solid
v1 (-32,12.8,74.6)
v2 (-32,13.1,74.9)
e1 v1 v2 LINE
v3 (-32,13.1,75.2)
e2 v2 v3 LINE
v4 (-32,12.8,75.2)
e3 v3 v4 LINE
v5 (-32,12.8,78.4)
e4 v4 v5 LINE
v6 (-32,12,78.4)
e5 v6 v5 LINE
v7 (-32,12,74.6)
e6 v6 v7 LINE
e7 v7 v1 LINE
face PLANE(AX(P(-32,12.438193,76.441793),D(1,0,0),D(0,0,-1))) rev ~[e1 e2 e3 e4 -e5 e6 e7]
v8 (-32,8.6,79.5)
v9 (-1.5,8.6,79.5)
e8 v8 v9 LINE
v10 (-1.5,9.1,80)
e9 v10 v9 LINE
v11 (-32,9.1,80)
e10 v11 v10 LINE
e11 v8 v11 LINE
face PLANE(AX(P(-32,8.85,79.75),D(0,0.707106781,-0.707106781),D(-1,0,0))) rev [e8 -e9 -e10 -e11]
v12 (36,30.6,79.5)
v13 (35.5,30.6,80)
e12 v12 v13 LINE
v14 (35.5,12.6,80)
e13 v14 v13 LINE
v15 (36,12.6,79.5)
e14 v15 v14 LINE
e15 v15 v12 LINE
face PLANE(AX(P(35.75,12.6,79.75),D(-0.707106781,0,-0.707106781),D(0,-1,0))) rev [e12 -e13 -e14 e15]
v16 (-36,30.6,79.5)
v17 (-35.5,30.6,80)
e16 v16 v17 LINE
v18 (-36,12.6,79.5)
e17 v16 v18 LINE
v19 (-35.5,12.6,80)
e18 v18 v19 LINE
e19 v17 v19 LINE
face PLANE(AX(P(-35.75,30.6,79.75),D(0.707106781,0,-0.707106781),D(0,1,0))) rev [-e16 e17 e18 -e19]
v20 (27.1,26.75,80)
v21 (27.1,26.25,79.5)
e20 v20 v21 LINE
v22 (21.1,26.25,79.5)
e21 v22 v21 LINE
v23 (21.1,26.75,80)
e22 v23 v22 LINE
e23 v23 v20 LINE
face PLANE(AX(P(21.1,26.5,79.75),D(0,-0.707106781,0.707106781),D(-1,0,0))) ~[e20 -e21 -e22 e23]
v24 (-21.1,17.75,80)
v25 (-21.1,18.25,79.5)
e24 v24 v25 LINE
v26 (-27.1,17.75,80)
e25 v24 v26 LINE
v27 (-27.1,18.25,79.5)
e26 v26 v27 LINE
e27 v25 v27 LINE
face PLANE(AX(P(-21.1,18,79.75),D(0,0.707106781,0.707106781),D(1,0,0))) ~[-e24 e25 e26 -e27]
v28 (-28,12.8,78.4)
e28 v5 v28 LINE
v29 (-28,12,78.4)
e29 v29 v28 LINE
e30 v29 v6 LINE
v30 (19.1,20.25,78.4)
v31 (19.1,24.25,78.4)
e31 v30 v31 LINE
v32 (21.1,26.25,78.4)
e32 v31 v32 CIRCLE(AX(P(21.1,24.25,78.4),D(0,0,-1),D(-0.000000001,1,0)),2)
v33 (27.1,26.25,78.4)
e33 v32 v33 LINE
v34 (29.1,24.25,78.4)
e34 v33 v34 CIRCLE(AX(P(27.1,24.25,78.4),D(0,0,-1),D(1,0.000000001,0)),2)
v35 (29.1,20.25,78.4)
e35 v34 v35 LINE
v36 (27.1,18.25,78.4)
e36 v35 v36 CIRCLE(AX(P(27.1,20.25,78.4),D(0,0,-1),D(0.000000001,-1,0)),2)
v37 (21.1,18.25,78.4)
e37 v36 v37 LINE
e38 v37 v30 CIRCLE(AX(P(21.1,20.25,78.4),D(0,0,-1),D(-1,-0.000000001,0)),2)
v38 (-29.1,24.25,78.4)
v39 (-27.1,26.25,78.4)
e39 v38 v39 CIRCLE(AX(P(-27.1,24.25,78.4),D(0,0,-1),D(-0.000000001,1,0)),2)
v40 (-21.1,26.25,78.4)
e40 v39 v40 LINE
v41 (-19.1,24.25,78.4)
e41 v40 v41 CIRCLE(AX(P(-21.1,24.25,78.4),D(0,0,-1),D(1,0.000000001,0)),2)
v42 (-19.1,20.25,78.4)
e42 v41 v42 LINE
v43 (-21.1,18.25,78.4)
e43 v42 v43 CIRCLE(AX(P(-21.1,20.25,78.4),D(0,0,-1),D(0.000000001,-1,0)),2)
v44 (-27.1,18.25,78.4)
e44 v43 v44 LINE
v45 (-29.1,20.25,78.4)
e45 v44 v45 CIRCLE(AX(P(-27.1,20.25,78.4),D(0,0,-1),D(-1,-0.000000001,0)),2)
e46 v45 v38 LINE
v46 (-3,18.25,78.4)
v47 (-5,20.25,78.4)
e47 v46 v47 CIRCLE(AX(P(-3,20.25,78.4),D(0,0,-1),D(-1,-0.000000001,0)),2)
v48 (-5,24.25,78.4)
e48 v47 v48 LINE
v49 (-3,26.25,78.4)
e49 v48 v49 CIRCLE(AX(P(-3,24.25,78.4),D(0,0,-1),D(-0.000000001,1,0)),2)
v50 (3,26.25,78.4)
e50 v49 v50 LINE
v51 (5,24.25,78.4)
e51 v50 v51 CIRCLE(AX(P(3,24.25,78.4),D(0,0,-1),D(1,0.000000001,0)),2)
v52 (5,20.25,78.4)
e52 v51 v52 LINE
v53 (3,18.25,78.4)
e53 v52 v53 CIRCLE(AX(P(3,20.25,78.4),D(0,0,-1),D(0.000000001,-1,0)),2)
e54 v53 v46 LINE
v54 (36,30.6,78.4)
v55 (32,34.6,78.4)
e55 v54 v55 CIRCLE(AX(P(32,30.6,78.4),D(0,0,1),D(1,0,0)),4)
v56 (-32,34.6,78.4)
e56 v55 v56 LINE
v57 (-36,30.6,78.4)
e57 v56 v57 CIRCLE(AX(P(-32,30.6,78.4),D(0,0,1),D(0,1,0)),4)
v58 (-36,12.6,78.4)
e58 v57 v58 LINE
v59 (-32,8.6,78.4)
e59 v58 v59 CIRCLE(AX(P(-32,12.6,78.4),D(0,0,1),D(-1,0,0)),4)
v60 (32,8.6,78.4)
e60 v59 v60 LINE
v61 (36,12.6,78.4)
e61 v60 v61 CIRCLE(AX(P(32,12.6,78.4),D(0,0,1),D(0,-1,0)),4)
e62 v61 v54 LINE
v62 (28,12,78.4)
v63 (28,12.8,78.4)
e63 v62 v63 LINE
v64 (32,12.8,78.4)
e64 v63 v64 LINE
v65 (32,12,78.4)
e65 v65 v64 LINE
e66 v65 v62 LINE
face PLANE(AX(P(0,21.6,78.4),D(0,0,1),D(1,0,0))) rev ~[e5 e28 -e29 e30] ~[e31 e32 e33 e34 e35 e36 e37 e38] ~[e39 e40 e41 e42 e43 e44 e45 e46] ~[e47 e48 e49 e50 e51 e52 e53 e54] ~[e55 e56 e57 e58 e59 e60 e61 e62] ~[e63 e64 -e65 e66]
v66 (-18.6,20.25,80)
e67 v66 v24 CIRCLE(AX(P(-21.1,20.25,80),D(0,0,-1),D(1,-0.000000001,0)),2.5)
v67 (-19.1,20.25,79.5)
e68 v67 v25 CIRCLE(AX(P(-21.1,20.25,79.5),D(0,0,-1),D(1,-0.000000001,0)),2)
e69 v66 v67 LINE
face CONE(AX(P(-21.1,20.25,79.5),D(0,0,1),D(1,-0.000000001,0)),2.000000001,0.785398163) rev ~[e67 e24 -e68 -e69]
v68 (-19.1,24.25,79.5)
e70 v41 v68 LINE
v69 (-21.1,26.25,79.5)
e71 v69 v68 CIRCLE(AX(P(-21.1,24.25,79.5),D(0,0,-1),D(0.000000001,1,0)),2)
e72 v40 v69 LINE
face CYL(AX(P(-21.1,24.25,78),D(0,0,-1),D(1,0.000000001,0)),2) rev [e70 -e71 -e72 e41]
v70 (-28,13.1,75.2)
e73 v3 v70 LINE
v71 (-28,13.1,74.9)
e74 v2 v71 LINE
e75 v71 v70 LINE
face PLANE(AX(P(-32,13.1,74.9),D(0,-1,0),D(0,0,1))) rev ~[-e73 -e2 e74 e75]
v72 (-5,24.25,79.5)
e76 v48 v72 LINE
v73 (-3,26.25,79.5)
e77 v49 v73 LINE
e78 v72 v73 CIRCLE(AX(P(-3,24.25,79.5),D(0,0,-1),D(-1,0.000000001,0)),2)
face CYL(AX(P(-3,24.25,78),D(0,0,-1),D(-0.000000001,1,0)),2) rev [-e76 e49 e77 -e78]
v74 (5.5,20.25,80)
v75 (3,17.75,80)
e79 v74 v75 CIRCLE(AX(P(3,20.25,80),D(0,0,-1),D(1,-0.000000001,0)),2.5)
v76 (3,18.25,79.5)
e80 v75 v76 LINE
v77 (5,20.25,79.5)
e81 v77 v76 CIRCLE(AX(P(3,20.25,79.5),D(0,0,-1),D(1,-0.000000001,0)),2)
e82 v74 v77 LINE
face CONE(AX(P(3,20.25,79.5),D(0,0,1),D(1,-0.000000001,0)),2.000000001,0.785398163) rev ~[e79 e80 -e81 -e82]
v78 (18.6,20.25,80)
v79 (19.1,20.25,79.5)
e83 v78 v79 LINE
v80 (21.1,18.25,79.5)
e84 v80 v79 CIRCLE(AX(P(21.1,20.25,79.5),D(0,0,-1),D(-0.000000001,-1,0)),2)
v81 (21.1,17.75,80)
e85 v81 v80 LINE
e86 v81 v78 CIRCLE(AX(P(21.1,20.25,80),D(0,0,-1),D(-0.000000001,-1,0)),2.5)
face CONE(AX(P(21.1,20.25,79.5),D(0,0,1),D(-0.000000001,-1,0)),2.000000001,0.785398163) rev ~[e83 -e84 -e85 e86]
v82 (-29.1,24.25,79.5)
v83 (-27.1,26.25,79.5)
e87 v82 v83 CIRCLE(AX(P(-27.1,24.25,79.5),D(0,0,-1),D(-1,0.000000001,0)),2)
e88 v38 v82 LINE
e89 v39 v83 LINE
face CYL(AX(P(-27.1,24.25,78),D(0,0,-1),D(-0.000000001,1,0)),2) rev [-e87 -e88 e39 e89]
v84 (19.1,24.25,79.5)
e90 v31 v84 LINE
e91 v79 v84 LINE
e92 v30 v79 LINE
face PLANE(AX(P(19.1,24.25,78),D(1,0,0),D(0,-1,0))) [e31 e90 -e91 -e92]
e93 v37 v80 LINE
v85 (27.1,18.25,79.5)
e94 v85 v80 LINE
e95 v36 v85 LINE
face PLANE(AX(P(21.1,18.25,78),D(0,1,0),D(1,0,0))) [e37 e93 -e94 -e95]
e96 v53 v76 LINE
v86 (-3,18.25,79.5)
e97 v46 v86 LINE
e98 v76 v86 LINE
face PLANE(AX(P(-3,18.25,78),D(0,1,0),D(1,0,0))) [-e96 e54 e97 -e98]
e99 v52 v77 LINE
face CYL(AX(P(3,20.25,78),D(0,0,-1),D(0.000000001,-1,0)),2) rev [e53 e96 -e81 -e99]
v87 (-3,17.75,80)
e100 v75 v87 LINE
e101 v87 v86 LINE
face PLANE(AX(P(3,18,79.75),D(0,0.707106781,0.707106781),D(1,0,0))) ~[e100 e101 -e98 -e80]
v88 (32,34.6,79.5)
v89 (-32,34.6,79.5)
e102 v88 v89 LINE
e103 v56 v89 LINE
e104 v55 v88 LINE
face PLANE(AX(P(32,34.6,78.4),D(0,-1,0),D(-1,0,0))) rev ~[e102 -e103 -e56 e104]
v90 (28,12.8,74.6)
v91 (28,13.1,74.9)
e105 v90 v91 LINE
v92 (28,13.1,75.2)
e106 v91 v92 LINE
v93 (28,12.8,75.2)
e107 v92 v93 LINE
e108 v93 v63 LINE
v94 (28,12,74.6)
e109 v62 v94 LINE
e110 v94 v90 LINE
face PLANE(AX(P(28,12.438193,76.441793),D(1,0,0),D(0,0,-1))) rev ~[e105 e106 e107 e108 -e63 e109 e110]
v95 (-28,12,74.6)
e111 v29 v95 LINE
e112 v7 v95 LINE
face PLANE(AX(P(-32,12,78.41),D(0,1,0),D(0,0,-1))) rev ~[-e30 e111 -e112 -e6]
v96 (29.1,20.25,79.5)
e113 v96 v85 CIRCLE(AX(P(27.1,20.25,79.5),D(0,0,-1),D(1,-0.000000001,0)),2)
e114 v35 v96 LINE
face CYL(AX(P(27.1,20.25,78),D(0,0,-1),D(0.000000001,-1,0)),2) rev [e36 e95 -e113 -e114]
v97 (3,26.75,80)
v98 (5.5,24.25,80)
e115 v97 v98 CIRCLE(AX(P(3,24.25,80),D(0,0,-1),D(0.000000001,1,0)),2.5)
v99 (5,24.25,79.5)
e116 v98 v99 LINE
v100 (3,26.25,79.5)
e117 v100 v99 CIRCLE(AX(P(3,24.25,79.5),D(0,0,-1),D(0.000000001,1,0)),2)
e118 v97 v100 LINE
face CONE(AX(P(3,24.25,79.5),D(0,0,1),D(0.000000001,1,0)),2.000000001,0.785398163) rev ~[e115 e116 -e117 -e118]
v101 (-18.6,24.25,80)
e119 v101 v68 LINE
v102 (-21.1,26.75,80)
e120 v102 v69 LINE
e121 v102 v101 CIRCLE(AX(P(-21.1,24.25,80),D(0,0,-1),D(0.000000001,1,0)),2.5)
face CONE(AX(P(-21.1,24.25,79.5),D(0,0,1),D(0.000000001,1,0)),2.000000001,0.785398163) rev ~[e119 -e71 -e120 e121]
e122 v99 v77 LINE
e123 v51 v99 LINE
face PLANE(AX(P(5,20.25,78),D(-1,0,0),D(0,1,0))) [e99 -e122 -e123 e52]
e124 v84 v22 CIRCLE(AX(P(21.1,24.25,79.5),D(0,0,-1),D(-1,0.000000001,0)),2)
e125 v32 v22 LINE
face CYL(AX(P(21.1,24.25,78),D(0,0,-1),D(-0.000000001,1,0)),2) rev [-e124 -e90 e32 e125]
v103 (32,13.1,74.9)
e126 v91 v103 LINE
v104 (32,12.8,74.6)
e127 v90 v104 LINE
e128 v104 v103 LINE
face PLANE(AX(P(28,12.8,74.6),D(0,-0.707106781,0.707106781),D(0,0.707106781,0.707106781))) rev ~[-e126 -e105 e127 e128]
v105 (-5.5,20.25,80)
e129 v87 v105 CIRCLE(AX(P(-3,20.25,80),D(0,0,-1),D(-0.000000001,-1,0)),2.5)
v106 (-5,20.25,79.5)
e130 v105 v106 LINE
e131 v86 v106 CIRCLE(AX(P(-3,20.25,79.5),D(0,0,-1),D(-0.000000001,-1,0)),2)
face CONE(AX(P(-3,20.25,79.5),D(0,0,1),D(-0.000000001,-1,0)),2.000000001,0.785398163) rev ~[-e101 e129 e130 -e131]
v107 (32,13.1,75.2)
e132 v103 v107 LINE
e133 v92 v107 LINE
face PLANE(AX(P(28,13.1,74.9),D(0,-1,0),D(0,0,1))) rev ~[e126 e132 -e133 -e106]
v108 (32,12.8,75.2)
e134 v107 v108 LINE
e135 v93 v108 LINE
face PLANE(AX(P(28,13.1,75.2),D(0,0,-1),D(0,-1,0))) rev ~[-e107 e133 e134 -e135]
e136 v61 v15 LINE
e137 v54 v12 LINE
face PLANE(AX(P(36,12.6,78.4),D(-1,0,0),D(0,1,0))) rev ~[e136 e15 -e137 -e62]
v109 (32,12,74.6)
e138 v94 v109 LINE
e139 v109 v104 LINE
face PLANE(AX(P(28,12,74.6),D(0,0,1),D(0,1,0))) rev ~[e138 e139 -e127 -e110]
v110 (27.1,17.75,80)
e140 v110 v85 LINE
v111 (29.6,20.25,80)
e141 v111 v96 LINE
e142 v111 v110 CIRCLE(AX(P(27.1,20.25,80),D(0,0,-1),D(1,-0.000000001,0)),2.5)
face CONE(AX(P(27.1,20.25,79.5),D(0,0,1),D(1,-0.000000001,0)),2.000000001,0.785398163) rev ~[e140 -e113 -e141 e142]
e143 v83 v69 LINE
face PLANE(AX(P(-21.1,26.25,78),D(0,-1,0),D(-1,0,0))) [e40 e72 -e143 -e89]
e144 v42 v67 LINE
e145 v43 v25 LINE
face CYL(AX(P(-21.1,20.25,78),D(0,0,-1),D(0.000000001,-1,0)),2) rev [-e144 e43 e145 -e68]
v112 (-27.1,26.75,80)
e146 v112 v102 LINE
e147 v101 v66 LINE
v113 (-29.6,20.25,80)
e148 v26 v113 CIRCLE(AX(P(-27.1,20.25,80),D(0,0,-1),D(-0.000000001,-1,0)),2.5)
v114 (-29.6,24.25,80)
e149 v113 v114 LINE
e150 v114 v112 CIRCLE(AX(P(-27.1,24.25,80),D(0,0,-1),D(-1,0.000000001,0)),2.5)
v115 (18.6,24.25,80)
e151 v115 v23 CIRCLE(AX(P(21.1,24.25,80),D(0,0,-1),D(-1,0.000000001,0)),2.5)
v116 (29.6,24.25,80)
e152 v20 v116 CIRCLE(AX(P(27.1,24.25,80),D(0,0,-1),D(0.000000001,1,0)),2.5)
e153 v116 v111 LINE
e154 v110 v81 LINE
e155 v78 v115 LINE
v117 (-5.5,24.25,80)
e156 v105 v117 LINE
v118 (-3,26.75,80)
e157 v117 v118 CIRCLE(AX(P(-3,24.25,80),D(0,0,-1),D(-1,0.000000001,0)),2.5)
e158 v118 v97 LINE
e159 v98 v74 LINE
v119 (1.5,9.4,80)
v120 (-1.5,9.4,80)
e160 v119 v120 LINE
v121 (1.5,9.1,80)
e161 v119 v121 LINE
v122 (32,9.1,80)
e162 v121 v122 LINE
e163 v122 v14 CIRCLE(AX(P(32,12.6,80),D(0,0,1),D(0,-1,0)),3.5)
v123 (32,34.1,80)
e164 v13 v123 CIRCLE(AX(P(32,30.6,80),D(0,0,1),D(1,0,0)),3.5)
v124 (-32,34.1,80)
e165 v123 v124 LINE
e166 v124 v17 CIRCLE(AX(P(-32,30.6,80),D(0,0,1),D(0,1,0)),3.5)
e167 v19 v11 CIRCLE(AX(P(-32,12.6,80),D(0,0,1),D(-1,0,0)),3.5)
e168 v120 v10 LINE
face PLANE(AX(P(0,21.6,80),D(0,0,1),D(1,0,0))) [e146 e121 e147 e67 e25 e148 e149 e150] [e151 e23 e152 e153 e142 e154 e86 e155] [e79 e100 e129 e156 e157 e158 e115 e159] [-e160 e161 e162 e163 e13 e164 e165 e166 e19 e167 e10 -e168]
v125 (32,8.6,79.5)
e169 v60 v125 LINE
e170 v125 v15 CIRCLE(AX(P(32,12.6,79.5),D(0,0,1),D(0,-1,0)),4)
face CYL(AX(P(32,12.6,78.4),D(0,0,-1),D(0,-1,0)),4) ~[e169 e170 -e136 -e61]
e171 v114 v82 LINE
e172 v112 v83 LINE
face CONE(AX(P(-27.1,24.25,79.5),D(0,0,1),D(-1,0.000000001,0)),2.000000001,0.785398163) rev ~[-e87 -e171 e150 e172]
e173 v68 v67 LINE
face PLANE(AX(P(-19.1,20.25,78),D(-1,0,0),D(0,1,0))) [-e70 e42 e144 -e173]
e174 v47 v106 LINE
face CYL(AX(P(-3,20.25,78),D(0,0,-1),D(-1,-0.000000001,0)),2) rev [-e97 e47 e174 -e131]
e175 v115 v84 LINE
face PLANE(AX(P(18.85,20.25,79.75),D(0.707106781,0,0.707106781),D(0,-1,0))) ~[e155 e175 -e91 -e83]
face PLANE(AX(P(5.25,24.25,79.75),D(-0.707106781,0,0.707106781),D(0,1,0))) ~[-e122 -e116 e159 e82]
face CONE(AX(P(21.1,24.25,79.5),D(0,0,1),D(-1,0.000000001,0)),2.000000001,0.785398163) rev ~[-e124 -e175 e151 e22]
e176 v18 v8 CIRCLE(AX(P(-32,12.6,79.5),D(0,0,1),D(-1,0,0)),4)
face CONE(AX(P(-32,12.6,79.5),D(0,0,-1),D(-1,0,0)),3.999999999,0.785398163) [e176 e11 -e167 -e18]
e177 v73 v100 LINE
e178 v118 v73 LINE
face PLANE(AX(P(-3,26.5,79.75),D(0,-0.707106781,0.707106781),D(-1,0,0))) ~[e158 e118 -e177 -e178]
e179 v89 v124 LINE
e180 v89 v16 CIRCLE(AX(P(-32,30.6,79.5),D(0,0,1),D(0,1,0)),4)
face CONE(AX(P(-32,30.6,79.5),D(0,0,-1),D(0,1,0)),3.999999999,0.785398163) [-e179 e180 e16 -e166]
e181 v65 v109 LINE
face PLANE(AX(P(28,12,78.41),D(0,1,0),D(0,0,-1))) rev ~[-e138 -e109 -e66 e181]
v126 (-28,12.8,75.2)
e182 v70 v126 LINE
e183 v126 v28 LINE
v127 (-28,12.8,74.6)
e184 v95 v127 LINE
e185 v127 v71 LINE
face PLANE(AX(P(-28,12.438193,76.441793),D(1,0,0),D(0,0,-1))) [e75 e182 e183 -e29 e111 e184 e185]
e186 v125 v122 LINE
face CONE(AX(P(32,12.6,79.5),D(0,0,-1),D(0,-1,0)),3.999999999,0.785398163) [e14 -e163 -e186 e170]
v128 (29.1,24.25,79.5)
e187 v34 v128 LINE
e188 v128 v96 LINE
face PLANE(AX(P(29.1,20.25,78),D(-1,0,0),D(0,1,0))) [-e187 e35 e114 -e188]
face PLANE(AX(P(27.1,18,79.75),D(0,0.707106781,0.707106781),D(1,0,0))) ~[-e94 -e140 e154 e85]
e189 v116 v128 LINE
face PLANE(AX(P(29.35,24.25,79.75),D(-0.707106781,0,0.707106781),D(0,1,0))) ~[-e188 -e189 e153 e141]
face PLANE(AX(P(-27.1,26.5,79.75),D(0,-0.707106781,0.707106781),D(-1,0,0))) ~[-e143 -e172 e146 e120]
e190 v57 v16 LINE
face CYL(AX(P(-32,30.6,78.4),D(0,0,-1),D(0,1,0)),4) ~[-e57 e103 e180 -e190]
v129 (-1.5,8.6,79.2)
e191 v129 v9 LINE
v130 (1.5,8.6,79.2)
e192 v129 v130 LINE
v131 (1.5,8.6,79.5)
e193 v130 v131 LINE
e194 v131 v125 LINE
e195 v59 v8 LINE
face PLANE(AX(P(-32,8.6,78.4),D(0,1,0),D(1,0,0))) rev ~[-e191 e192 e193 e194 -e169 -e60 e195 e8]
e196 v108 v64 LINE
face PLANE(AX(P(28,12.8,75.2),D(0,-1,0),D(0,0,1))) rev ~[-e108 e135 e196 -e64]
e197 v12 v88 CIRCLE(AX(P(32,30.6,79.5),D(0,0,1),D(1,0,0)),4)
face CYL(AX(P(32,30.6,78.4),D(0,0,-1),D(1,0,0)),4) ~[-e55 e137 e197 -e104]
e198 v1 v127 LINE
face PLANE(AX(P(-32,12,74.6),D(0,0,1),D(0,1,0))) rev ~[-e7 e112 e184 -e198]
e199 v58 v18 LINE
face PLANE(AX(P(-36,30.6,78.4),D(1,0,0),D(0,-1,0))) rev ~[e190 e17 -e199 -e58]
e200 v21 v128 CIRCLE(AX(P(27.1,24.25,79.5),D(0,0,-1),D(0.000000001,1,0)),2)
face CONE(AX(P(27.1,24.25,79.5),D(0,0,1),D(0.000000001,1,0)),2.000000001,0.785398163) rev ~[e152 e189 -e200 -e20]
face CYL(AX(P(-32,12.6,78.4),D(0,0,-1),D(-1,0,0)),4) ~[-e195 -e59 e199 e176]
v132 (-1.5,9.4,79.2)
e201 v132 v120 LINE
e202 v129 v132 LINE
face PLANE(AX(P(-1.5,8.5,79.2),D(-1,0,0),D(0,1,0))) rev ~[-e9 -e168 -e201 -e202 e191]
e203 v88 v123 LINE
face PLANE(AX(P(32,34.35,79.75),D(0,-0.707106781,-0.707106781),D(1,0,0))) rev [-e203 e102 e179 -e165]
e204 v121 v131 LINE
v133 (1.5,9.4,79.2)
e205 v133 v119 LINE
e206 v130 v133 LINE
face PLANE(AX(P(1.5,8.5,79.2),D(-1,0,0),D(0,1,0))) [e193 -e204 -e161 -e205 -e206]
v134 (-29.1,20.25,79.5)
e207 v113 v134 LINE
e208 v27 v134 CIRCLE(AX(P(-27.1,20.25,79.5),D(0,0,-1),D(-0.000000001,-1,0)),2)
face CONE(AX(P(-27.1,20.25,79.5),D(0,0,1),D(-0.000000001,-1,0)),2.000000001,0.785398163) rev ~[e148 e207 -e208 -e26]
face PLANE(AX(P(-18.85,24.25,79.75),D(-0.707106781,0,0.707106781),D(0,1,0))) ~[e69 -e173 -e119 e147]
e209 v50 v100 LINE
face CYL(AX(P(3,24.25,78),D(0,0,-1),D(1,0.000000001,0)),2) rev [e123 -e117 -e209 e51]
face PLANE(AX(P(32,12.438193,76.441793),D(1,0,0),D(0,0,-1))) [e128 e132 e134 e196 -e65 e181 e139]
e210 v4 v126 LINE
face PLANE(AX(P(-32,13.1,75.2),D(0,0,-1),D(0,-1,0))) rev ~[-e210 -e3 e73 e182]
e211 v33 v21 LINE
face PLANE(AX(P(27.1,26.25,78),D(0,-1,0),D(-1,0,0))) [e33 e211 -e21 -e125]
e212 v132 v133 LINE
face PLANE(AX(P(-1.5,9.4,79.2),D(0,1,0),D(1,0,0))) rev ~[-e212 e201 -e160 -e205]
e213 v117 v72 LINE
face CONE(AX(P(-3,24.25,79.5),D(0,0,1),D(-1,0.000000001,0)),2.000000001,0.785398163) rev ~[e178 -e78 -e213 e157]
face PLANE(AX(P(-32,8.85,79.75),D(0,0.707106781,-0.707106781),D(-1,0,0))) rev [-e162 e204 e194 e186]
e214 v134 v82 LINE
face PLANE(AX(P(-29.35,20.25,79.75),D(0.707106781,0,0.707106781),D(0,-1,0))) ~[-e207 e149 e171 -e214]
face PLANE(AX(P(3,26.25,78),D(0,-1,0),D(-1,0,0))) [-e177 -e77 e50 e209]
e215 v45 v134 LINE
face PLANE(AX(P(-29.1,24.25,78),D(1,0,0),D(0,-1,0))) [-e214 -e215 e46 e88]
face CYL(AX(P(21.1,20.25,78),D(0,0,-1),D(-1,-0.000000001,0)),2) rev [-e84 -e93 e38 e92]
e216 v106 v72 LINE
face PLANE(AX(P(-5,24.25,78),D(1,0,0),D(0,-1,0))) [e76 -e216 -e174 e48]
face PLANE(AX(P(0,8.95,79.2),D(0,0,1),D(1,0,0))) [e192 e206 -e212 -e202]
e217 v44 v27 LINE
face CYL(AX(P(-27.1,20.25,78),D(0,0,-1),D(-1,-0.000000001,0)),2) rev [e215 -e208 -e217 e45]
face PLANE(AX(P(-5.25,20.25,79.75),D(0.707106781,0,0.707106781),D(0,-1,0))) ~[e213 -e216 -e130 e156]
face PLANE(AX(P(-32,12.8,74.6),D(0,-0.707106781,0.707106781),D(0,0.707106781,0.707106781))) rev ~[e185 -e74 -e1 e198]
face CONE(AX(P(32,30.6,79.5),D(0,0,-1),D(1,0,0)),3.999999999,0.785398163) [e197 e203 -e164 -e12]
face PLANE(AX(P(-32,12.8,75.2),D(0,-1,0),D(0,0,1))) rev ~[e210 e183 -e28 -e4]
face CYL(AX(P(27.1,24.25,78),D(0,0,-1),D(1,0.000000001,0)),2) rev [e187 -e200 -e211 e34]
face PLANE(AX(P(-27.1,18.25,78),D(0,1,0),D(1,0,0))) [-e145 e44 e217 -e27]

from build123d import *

# Parameters (mm, degrees)
BOSS_EXTRUDE1_START = 78.4
BOSS_EXTRUDE1_DEPTH = 1.6
CHAMFER1_SIZE       = 0.5
BOSS_EXTRUDE2_START = 78
BOSS_EXTRUDE2_DEPTH = 3
CHAMFER2_SIZE       = 0.5
BOSS_EXTRUDE3_START = 78
BOSS_EXTRUDE3_DEPTH = 3
CHAMFER3_SIZE       = 0.5
BOSS_EXTRUDE4_START = 78
BOSS_EXTRUDE4_DEPTH = 3
CHAMFER4_SIZE       = 0.5
BOSS_EXTRUDE5_START = 79.2
SKETCH5_W           = 3
SKETCH5_H           = 0.9
BOSS_EXTRUDE5_DEPTH = 0.9
BOSS_EXTRUDE6_START = -32
BOSS_EXTRUDE6_DEPTH = 4
BOSS_EXTRUDE7_START = 28
BOSS_EXTRUDE7_DEPTH = 4


with BuildPart() as part:
    # Sketch1 → Boss-Extrude1 (new body)
    with BuildSketch(Plane.XY.offset(BOSS_EXTRUDE1_START)):
        with BuildLine():
            Line((-32, 8.6), (32, 8.6))
            ThreePointArc((32, 8.6), (34.828427125, 9.771572875), (36, 12.6))
            Line((36, 12.6), (36, 30.6))
            ThreePointArc((36, 30.6), (34.828427125, 33.428427125), (32, 34.6))
            Line((32, 34.6), (-32, 34.6))
            ThreePointArc((-32, 34.6), (-34.828427125, 33.428427125), (-36, 30.6))
            Line((-36, 30.6), (-36, 12.6))
            ThreePointArc((-36, 12.6), (-34.828427125, 9.771572875), (-32, 8.6))
        make_face()
    extrude(amount=BOSS_EXTRUDE1_DEPTH)

    # Chamfer1
    chamfer1_edges = [part.edges().sort_by_distance(p)[0] for p in [
        (34.828427125, 9.771572875, 80),
        (36, 21.6, 80),
        (34.828427125, 33.428427125, 80),
        (0, 34.6, 80),
        (-34.828427125, 33.428427125, 80),
        (-36, 21.6, 80),
        (-34.828427125, 9.771572875, 80),
        (0, 8.6, 80),
    ]]
    chamfer(chamfer1_edges, length=CHAMFER1_SIZE)


with BuildPart() as body_2:
    # Sketch2 → Boss-Extrude2 (new body)
    with BuildSketch(Plane.XY.offset(BOSS_EXTRUDE2_START)):
        with BuildLine():
            Line((-3, 18.25), (3, 18.25))
            ThreePointArc((3, 18.25), (4.414213562, 18.835786438), (5, 20.25))
            Line((5, 20.25), (5, 24.25))
            ThreePointArc((5, 24.25), (4.414213562, 25.664213562), (3, 26.25))
            Line((3, 26.25), (-3, 26.25))
            ThreePointArc((-3, 26.25), (-4.414213562, 25.664213562), (-5, 24.25))
            Line((-5, 24.25), (-5, 20.25))
            ThreePointArc((-5, 20.25), (-4.414213562, 18.835786438), (-3, 18.25))
        make_face()
    extrude(amount=BOSS_EXTRUDE2_DEPTH)


with BuildPart() as part_1:
    add(part.part)

    # Combine1: cut body 2
    add(body_2.part, mode=Mode.SUBTRACT)

    # Chamfer2
    chamfer2_edges = [part_1.edges().sort_by_distance(p)[0] for p in [
        (-4.414213562, 18.835786438, 80),
        (0, 18.25, 80),
        (4.414213562, 18.835786438, 80),
        (5, 22.25, 80),
        (4.414213562, 25.664213562, 80),
        (0, 26.25, 80),
        (-4.414213562, 25.664213562, 80),
        (-5, 22.25, 80),
    ]]
    chamfer(chamfer2_edges, length=CHAMFER2_SIZE)


with BuildPart() as body_2_2:
    # Sketch3 → Boss-Extrude3 (new body)
    with BuildSketch(Plane.XY.offset(BOSS_EXTRUDE3_START)):
        with BuildLine():
            Line((21.1, 18.25), (27.1, 18.25))
            ThreePointArc((27.1, 18.25), (28.514213562, 18.835786438), (29.1, 20.25))
            Line((29.1, 20.25), (29.1, 24.25))
            ThreePointArc((29.1, 24.25), (28.514213562, 25.664213562), (27.1, 26.25))
            Line((27.1, 26.25), (21.1, 26.25))
            ThreePointArc((21.1, 26.25), (19.685786438, 25.664213562), (19.1, 24.25))
            Line((19.1, 24.25), (19.1, 20.25))
            ThreePointArc((19.1, 20.25), (19.685786438, 18.835786438), (21.1, 18.25))
        make_face()
    extrude(amount=BOSS_EXTRUDE3_DEPTH)


with BuildPart() as part_2:
    add(part_1.part)

    # Combine2: cut body 2 2
    add(body_2_2.part, mode=Mode.SUBTRACT)

    # Chamfer3
    chamfer3_edges = [part_2.edges().sort_by_distance(p)[0] for p in [
        (19.685786438, 18.835786438, 80),
        (24.1, 18.25, 80),
        (28.514213562, 18.835786438, 80),
        (29.1, 22.25, 80),
        (28.514213562, 25.664213562, 80),
        (24.1, 26.25, 80),
        (19.685786438, 25.664213562, 80),
        (19.1, 22.25, 80),
    ]]
    chamfer(chamfer3_edges, length=CHAMFER3_SIZE)


with BuildPart() as body_2_3:
    # Sketch4 → Boss-Extrude4 (new body)
    with BuildSketch(Plane.XY.offset(BOSS_EXTRUDE4_START)):
        with BuildLine():
            Line((-27.1, 18.25), (-21.1, 18.25))
            ThreePointArc((-21.1, 18.25), (-19.685786438, 18.835786438), (-19.1, 20.25))
            Line((-19.1, 20.25), (-19.1, 24.25))
            ThreePointArc((-19.1, 24.25), (-19.685786438, 25.664213562), (-21.1, 26.25))
            Line((-21.1, 26.25), (-27.1, 26.25))
            ThreePointArc((-27.1, 26.25), (-28.514213562, 25.664213562), (-29.1, 24.25))
            Line((-29.1, 24.25), (-29.1, 20.25))
            ThreePointArc((-29.1, 20.25), (-28.514213562, 18.835786438), (-27.1, 18.25))
        make_face()
    extrude(amount=BOSS_EXTRUDE4_DEPTH)


with BuildPart() as part_3:
    add(part_2.part)

    # Combine3: cut body 2 3
    add(body_2_3.part, mode=Mode.SUBTRACT)

    # Chamfer4
    chamfer4_edges = [part_3.edges().sort_by_distance(p)[0] for p in [
        (-28.514213562, 18.835786438, 80),
        (-24.1, 18.25, 80),
        (-19.685786438, 18.835786438, 80),
        (-19.1, 22.25, 80),
        (-19.685786438, 25.664213562, 80),
        (-24.1, 26.25, 80),
        (-28.514213562, 25.664213562, 80),
        (-29.1, 22.25, 80),
    ]]
    chamfer(chamfer4_edges, length=CHAMFER4_SIZE)


with BuildPart() as body_2_4:
    # Sketch5 → Boss-Extrude5 (new body)
    with BuildSketch(Plane.XY.offset(BOSS_EXTRUDE5_START)):
        with Locations((0, 8.95)):
            Rectangle(SKETCH5_W, SKETCH5_H)
    extrude(amount=BOSS_EXTRUDE5_DEPTH)


with BuildPart() as part_4:
    add(part_3.part)

    # Combine4: cut body 2 4
    add(body_2_4.part, mode=Mode.SUBTRACT)

    # Sketch6 → Boss-Extrude6 (add)
    with BuildSketch(Plane(origin=(0, 0, 0), x_dir=(0, 0, -1), z_dir=(1, 0, 0)).offset(BOSS_EXTRUDE6_START)):
        Polygon((-78.41, 12), (-74.6, 12), (-74.6, 12.8), (-74.9, 13.1), (-75.2, 13.1), (-75.2, 12.8), (-78.41, 12.8), align=None)
    extrude(amount=BOSS_EXTRUDE6_DEPTH)

    # Sketch7 → Boss-Extrude7 (add)
    with BuildSketch(Plane(origin=(0, 0, 0), x_dir=(0, 0, -1), z_dir=(1, 0, 0)).offset(BOSS_EXTRUDE7_START)):
        Polygon((-78.41, 12), (-74.6, 12), (-74.6, 12.8), (-74.9, 13.1), (-75.2, 13.1), (-75.2, 12.8), (-78.41, 12.8), align=None)
    extrude(amount=BOSS_EXTRUDE7_DEPTH)


solid = part_4.part
